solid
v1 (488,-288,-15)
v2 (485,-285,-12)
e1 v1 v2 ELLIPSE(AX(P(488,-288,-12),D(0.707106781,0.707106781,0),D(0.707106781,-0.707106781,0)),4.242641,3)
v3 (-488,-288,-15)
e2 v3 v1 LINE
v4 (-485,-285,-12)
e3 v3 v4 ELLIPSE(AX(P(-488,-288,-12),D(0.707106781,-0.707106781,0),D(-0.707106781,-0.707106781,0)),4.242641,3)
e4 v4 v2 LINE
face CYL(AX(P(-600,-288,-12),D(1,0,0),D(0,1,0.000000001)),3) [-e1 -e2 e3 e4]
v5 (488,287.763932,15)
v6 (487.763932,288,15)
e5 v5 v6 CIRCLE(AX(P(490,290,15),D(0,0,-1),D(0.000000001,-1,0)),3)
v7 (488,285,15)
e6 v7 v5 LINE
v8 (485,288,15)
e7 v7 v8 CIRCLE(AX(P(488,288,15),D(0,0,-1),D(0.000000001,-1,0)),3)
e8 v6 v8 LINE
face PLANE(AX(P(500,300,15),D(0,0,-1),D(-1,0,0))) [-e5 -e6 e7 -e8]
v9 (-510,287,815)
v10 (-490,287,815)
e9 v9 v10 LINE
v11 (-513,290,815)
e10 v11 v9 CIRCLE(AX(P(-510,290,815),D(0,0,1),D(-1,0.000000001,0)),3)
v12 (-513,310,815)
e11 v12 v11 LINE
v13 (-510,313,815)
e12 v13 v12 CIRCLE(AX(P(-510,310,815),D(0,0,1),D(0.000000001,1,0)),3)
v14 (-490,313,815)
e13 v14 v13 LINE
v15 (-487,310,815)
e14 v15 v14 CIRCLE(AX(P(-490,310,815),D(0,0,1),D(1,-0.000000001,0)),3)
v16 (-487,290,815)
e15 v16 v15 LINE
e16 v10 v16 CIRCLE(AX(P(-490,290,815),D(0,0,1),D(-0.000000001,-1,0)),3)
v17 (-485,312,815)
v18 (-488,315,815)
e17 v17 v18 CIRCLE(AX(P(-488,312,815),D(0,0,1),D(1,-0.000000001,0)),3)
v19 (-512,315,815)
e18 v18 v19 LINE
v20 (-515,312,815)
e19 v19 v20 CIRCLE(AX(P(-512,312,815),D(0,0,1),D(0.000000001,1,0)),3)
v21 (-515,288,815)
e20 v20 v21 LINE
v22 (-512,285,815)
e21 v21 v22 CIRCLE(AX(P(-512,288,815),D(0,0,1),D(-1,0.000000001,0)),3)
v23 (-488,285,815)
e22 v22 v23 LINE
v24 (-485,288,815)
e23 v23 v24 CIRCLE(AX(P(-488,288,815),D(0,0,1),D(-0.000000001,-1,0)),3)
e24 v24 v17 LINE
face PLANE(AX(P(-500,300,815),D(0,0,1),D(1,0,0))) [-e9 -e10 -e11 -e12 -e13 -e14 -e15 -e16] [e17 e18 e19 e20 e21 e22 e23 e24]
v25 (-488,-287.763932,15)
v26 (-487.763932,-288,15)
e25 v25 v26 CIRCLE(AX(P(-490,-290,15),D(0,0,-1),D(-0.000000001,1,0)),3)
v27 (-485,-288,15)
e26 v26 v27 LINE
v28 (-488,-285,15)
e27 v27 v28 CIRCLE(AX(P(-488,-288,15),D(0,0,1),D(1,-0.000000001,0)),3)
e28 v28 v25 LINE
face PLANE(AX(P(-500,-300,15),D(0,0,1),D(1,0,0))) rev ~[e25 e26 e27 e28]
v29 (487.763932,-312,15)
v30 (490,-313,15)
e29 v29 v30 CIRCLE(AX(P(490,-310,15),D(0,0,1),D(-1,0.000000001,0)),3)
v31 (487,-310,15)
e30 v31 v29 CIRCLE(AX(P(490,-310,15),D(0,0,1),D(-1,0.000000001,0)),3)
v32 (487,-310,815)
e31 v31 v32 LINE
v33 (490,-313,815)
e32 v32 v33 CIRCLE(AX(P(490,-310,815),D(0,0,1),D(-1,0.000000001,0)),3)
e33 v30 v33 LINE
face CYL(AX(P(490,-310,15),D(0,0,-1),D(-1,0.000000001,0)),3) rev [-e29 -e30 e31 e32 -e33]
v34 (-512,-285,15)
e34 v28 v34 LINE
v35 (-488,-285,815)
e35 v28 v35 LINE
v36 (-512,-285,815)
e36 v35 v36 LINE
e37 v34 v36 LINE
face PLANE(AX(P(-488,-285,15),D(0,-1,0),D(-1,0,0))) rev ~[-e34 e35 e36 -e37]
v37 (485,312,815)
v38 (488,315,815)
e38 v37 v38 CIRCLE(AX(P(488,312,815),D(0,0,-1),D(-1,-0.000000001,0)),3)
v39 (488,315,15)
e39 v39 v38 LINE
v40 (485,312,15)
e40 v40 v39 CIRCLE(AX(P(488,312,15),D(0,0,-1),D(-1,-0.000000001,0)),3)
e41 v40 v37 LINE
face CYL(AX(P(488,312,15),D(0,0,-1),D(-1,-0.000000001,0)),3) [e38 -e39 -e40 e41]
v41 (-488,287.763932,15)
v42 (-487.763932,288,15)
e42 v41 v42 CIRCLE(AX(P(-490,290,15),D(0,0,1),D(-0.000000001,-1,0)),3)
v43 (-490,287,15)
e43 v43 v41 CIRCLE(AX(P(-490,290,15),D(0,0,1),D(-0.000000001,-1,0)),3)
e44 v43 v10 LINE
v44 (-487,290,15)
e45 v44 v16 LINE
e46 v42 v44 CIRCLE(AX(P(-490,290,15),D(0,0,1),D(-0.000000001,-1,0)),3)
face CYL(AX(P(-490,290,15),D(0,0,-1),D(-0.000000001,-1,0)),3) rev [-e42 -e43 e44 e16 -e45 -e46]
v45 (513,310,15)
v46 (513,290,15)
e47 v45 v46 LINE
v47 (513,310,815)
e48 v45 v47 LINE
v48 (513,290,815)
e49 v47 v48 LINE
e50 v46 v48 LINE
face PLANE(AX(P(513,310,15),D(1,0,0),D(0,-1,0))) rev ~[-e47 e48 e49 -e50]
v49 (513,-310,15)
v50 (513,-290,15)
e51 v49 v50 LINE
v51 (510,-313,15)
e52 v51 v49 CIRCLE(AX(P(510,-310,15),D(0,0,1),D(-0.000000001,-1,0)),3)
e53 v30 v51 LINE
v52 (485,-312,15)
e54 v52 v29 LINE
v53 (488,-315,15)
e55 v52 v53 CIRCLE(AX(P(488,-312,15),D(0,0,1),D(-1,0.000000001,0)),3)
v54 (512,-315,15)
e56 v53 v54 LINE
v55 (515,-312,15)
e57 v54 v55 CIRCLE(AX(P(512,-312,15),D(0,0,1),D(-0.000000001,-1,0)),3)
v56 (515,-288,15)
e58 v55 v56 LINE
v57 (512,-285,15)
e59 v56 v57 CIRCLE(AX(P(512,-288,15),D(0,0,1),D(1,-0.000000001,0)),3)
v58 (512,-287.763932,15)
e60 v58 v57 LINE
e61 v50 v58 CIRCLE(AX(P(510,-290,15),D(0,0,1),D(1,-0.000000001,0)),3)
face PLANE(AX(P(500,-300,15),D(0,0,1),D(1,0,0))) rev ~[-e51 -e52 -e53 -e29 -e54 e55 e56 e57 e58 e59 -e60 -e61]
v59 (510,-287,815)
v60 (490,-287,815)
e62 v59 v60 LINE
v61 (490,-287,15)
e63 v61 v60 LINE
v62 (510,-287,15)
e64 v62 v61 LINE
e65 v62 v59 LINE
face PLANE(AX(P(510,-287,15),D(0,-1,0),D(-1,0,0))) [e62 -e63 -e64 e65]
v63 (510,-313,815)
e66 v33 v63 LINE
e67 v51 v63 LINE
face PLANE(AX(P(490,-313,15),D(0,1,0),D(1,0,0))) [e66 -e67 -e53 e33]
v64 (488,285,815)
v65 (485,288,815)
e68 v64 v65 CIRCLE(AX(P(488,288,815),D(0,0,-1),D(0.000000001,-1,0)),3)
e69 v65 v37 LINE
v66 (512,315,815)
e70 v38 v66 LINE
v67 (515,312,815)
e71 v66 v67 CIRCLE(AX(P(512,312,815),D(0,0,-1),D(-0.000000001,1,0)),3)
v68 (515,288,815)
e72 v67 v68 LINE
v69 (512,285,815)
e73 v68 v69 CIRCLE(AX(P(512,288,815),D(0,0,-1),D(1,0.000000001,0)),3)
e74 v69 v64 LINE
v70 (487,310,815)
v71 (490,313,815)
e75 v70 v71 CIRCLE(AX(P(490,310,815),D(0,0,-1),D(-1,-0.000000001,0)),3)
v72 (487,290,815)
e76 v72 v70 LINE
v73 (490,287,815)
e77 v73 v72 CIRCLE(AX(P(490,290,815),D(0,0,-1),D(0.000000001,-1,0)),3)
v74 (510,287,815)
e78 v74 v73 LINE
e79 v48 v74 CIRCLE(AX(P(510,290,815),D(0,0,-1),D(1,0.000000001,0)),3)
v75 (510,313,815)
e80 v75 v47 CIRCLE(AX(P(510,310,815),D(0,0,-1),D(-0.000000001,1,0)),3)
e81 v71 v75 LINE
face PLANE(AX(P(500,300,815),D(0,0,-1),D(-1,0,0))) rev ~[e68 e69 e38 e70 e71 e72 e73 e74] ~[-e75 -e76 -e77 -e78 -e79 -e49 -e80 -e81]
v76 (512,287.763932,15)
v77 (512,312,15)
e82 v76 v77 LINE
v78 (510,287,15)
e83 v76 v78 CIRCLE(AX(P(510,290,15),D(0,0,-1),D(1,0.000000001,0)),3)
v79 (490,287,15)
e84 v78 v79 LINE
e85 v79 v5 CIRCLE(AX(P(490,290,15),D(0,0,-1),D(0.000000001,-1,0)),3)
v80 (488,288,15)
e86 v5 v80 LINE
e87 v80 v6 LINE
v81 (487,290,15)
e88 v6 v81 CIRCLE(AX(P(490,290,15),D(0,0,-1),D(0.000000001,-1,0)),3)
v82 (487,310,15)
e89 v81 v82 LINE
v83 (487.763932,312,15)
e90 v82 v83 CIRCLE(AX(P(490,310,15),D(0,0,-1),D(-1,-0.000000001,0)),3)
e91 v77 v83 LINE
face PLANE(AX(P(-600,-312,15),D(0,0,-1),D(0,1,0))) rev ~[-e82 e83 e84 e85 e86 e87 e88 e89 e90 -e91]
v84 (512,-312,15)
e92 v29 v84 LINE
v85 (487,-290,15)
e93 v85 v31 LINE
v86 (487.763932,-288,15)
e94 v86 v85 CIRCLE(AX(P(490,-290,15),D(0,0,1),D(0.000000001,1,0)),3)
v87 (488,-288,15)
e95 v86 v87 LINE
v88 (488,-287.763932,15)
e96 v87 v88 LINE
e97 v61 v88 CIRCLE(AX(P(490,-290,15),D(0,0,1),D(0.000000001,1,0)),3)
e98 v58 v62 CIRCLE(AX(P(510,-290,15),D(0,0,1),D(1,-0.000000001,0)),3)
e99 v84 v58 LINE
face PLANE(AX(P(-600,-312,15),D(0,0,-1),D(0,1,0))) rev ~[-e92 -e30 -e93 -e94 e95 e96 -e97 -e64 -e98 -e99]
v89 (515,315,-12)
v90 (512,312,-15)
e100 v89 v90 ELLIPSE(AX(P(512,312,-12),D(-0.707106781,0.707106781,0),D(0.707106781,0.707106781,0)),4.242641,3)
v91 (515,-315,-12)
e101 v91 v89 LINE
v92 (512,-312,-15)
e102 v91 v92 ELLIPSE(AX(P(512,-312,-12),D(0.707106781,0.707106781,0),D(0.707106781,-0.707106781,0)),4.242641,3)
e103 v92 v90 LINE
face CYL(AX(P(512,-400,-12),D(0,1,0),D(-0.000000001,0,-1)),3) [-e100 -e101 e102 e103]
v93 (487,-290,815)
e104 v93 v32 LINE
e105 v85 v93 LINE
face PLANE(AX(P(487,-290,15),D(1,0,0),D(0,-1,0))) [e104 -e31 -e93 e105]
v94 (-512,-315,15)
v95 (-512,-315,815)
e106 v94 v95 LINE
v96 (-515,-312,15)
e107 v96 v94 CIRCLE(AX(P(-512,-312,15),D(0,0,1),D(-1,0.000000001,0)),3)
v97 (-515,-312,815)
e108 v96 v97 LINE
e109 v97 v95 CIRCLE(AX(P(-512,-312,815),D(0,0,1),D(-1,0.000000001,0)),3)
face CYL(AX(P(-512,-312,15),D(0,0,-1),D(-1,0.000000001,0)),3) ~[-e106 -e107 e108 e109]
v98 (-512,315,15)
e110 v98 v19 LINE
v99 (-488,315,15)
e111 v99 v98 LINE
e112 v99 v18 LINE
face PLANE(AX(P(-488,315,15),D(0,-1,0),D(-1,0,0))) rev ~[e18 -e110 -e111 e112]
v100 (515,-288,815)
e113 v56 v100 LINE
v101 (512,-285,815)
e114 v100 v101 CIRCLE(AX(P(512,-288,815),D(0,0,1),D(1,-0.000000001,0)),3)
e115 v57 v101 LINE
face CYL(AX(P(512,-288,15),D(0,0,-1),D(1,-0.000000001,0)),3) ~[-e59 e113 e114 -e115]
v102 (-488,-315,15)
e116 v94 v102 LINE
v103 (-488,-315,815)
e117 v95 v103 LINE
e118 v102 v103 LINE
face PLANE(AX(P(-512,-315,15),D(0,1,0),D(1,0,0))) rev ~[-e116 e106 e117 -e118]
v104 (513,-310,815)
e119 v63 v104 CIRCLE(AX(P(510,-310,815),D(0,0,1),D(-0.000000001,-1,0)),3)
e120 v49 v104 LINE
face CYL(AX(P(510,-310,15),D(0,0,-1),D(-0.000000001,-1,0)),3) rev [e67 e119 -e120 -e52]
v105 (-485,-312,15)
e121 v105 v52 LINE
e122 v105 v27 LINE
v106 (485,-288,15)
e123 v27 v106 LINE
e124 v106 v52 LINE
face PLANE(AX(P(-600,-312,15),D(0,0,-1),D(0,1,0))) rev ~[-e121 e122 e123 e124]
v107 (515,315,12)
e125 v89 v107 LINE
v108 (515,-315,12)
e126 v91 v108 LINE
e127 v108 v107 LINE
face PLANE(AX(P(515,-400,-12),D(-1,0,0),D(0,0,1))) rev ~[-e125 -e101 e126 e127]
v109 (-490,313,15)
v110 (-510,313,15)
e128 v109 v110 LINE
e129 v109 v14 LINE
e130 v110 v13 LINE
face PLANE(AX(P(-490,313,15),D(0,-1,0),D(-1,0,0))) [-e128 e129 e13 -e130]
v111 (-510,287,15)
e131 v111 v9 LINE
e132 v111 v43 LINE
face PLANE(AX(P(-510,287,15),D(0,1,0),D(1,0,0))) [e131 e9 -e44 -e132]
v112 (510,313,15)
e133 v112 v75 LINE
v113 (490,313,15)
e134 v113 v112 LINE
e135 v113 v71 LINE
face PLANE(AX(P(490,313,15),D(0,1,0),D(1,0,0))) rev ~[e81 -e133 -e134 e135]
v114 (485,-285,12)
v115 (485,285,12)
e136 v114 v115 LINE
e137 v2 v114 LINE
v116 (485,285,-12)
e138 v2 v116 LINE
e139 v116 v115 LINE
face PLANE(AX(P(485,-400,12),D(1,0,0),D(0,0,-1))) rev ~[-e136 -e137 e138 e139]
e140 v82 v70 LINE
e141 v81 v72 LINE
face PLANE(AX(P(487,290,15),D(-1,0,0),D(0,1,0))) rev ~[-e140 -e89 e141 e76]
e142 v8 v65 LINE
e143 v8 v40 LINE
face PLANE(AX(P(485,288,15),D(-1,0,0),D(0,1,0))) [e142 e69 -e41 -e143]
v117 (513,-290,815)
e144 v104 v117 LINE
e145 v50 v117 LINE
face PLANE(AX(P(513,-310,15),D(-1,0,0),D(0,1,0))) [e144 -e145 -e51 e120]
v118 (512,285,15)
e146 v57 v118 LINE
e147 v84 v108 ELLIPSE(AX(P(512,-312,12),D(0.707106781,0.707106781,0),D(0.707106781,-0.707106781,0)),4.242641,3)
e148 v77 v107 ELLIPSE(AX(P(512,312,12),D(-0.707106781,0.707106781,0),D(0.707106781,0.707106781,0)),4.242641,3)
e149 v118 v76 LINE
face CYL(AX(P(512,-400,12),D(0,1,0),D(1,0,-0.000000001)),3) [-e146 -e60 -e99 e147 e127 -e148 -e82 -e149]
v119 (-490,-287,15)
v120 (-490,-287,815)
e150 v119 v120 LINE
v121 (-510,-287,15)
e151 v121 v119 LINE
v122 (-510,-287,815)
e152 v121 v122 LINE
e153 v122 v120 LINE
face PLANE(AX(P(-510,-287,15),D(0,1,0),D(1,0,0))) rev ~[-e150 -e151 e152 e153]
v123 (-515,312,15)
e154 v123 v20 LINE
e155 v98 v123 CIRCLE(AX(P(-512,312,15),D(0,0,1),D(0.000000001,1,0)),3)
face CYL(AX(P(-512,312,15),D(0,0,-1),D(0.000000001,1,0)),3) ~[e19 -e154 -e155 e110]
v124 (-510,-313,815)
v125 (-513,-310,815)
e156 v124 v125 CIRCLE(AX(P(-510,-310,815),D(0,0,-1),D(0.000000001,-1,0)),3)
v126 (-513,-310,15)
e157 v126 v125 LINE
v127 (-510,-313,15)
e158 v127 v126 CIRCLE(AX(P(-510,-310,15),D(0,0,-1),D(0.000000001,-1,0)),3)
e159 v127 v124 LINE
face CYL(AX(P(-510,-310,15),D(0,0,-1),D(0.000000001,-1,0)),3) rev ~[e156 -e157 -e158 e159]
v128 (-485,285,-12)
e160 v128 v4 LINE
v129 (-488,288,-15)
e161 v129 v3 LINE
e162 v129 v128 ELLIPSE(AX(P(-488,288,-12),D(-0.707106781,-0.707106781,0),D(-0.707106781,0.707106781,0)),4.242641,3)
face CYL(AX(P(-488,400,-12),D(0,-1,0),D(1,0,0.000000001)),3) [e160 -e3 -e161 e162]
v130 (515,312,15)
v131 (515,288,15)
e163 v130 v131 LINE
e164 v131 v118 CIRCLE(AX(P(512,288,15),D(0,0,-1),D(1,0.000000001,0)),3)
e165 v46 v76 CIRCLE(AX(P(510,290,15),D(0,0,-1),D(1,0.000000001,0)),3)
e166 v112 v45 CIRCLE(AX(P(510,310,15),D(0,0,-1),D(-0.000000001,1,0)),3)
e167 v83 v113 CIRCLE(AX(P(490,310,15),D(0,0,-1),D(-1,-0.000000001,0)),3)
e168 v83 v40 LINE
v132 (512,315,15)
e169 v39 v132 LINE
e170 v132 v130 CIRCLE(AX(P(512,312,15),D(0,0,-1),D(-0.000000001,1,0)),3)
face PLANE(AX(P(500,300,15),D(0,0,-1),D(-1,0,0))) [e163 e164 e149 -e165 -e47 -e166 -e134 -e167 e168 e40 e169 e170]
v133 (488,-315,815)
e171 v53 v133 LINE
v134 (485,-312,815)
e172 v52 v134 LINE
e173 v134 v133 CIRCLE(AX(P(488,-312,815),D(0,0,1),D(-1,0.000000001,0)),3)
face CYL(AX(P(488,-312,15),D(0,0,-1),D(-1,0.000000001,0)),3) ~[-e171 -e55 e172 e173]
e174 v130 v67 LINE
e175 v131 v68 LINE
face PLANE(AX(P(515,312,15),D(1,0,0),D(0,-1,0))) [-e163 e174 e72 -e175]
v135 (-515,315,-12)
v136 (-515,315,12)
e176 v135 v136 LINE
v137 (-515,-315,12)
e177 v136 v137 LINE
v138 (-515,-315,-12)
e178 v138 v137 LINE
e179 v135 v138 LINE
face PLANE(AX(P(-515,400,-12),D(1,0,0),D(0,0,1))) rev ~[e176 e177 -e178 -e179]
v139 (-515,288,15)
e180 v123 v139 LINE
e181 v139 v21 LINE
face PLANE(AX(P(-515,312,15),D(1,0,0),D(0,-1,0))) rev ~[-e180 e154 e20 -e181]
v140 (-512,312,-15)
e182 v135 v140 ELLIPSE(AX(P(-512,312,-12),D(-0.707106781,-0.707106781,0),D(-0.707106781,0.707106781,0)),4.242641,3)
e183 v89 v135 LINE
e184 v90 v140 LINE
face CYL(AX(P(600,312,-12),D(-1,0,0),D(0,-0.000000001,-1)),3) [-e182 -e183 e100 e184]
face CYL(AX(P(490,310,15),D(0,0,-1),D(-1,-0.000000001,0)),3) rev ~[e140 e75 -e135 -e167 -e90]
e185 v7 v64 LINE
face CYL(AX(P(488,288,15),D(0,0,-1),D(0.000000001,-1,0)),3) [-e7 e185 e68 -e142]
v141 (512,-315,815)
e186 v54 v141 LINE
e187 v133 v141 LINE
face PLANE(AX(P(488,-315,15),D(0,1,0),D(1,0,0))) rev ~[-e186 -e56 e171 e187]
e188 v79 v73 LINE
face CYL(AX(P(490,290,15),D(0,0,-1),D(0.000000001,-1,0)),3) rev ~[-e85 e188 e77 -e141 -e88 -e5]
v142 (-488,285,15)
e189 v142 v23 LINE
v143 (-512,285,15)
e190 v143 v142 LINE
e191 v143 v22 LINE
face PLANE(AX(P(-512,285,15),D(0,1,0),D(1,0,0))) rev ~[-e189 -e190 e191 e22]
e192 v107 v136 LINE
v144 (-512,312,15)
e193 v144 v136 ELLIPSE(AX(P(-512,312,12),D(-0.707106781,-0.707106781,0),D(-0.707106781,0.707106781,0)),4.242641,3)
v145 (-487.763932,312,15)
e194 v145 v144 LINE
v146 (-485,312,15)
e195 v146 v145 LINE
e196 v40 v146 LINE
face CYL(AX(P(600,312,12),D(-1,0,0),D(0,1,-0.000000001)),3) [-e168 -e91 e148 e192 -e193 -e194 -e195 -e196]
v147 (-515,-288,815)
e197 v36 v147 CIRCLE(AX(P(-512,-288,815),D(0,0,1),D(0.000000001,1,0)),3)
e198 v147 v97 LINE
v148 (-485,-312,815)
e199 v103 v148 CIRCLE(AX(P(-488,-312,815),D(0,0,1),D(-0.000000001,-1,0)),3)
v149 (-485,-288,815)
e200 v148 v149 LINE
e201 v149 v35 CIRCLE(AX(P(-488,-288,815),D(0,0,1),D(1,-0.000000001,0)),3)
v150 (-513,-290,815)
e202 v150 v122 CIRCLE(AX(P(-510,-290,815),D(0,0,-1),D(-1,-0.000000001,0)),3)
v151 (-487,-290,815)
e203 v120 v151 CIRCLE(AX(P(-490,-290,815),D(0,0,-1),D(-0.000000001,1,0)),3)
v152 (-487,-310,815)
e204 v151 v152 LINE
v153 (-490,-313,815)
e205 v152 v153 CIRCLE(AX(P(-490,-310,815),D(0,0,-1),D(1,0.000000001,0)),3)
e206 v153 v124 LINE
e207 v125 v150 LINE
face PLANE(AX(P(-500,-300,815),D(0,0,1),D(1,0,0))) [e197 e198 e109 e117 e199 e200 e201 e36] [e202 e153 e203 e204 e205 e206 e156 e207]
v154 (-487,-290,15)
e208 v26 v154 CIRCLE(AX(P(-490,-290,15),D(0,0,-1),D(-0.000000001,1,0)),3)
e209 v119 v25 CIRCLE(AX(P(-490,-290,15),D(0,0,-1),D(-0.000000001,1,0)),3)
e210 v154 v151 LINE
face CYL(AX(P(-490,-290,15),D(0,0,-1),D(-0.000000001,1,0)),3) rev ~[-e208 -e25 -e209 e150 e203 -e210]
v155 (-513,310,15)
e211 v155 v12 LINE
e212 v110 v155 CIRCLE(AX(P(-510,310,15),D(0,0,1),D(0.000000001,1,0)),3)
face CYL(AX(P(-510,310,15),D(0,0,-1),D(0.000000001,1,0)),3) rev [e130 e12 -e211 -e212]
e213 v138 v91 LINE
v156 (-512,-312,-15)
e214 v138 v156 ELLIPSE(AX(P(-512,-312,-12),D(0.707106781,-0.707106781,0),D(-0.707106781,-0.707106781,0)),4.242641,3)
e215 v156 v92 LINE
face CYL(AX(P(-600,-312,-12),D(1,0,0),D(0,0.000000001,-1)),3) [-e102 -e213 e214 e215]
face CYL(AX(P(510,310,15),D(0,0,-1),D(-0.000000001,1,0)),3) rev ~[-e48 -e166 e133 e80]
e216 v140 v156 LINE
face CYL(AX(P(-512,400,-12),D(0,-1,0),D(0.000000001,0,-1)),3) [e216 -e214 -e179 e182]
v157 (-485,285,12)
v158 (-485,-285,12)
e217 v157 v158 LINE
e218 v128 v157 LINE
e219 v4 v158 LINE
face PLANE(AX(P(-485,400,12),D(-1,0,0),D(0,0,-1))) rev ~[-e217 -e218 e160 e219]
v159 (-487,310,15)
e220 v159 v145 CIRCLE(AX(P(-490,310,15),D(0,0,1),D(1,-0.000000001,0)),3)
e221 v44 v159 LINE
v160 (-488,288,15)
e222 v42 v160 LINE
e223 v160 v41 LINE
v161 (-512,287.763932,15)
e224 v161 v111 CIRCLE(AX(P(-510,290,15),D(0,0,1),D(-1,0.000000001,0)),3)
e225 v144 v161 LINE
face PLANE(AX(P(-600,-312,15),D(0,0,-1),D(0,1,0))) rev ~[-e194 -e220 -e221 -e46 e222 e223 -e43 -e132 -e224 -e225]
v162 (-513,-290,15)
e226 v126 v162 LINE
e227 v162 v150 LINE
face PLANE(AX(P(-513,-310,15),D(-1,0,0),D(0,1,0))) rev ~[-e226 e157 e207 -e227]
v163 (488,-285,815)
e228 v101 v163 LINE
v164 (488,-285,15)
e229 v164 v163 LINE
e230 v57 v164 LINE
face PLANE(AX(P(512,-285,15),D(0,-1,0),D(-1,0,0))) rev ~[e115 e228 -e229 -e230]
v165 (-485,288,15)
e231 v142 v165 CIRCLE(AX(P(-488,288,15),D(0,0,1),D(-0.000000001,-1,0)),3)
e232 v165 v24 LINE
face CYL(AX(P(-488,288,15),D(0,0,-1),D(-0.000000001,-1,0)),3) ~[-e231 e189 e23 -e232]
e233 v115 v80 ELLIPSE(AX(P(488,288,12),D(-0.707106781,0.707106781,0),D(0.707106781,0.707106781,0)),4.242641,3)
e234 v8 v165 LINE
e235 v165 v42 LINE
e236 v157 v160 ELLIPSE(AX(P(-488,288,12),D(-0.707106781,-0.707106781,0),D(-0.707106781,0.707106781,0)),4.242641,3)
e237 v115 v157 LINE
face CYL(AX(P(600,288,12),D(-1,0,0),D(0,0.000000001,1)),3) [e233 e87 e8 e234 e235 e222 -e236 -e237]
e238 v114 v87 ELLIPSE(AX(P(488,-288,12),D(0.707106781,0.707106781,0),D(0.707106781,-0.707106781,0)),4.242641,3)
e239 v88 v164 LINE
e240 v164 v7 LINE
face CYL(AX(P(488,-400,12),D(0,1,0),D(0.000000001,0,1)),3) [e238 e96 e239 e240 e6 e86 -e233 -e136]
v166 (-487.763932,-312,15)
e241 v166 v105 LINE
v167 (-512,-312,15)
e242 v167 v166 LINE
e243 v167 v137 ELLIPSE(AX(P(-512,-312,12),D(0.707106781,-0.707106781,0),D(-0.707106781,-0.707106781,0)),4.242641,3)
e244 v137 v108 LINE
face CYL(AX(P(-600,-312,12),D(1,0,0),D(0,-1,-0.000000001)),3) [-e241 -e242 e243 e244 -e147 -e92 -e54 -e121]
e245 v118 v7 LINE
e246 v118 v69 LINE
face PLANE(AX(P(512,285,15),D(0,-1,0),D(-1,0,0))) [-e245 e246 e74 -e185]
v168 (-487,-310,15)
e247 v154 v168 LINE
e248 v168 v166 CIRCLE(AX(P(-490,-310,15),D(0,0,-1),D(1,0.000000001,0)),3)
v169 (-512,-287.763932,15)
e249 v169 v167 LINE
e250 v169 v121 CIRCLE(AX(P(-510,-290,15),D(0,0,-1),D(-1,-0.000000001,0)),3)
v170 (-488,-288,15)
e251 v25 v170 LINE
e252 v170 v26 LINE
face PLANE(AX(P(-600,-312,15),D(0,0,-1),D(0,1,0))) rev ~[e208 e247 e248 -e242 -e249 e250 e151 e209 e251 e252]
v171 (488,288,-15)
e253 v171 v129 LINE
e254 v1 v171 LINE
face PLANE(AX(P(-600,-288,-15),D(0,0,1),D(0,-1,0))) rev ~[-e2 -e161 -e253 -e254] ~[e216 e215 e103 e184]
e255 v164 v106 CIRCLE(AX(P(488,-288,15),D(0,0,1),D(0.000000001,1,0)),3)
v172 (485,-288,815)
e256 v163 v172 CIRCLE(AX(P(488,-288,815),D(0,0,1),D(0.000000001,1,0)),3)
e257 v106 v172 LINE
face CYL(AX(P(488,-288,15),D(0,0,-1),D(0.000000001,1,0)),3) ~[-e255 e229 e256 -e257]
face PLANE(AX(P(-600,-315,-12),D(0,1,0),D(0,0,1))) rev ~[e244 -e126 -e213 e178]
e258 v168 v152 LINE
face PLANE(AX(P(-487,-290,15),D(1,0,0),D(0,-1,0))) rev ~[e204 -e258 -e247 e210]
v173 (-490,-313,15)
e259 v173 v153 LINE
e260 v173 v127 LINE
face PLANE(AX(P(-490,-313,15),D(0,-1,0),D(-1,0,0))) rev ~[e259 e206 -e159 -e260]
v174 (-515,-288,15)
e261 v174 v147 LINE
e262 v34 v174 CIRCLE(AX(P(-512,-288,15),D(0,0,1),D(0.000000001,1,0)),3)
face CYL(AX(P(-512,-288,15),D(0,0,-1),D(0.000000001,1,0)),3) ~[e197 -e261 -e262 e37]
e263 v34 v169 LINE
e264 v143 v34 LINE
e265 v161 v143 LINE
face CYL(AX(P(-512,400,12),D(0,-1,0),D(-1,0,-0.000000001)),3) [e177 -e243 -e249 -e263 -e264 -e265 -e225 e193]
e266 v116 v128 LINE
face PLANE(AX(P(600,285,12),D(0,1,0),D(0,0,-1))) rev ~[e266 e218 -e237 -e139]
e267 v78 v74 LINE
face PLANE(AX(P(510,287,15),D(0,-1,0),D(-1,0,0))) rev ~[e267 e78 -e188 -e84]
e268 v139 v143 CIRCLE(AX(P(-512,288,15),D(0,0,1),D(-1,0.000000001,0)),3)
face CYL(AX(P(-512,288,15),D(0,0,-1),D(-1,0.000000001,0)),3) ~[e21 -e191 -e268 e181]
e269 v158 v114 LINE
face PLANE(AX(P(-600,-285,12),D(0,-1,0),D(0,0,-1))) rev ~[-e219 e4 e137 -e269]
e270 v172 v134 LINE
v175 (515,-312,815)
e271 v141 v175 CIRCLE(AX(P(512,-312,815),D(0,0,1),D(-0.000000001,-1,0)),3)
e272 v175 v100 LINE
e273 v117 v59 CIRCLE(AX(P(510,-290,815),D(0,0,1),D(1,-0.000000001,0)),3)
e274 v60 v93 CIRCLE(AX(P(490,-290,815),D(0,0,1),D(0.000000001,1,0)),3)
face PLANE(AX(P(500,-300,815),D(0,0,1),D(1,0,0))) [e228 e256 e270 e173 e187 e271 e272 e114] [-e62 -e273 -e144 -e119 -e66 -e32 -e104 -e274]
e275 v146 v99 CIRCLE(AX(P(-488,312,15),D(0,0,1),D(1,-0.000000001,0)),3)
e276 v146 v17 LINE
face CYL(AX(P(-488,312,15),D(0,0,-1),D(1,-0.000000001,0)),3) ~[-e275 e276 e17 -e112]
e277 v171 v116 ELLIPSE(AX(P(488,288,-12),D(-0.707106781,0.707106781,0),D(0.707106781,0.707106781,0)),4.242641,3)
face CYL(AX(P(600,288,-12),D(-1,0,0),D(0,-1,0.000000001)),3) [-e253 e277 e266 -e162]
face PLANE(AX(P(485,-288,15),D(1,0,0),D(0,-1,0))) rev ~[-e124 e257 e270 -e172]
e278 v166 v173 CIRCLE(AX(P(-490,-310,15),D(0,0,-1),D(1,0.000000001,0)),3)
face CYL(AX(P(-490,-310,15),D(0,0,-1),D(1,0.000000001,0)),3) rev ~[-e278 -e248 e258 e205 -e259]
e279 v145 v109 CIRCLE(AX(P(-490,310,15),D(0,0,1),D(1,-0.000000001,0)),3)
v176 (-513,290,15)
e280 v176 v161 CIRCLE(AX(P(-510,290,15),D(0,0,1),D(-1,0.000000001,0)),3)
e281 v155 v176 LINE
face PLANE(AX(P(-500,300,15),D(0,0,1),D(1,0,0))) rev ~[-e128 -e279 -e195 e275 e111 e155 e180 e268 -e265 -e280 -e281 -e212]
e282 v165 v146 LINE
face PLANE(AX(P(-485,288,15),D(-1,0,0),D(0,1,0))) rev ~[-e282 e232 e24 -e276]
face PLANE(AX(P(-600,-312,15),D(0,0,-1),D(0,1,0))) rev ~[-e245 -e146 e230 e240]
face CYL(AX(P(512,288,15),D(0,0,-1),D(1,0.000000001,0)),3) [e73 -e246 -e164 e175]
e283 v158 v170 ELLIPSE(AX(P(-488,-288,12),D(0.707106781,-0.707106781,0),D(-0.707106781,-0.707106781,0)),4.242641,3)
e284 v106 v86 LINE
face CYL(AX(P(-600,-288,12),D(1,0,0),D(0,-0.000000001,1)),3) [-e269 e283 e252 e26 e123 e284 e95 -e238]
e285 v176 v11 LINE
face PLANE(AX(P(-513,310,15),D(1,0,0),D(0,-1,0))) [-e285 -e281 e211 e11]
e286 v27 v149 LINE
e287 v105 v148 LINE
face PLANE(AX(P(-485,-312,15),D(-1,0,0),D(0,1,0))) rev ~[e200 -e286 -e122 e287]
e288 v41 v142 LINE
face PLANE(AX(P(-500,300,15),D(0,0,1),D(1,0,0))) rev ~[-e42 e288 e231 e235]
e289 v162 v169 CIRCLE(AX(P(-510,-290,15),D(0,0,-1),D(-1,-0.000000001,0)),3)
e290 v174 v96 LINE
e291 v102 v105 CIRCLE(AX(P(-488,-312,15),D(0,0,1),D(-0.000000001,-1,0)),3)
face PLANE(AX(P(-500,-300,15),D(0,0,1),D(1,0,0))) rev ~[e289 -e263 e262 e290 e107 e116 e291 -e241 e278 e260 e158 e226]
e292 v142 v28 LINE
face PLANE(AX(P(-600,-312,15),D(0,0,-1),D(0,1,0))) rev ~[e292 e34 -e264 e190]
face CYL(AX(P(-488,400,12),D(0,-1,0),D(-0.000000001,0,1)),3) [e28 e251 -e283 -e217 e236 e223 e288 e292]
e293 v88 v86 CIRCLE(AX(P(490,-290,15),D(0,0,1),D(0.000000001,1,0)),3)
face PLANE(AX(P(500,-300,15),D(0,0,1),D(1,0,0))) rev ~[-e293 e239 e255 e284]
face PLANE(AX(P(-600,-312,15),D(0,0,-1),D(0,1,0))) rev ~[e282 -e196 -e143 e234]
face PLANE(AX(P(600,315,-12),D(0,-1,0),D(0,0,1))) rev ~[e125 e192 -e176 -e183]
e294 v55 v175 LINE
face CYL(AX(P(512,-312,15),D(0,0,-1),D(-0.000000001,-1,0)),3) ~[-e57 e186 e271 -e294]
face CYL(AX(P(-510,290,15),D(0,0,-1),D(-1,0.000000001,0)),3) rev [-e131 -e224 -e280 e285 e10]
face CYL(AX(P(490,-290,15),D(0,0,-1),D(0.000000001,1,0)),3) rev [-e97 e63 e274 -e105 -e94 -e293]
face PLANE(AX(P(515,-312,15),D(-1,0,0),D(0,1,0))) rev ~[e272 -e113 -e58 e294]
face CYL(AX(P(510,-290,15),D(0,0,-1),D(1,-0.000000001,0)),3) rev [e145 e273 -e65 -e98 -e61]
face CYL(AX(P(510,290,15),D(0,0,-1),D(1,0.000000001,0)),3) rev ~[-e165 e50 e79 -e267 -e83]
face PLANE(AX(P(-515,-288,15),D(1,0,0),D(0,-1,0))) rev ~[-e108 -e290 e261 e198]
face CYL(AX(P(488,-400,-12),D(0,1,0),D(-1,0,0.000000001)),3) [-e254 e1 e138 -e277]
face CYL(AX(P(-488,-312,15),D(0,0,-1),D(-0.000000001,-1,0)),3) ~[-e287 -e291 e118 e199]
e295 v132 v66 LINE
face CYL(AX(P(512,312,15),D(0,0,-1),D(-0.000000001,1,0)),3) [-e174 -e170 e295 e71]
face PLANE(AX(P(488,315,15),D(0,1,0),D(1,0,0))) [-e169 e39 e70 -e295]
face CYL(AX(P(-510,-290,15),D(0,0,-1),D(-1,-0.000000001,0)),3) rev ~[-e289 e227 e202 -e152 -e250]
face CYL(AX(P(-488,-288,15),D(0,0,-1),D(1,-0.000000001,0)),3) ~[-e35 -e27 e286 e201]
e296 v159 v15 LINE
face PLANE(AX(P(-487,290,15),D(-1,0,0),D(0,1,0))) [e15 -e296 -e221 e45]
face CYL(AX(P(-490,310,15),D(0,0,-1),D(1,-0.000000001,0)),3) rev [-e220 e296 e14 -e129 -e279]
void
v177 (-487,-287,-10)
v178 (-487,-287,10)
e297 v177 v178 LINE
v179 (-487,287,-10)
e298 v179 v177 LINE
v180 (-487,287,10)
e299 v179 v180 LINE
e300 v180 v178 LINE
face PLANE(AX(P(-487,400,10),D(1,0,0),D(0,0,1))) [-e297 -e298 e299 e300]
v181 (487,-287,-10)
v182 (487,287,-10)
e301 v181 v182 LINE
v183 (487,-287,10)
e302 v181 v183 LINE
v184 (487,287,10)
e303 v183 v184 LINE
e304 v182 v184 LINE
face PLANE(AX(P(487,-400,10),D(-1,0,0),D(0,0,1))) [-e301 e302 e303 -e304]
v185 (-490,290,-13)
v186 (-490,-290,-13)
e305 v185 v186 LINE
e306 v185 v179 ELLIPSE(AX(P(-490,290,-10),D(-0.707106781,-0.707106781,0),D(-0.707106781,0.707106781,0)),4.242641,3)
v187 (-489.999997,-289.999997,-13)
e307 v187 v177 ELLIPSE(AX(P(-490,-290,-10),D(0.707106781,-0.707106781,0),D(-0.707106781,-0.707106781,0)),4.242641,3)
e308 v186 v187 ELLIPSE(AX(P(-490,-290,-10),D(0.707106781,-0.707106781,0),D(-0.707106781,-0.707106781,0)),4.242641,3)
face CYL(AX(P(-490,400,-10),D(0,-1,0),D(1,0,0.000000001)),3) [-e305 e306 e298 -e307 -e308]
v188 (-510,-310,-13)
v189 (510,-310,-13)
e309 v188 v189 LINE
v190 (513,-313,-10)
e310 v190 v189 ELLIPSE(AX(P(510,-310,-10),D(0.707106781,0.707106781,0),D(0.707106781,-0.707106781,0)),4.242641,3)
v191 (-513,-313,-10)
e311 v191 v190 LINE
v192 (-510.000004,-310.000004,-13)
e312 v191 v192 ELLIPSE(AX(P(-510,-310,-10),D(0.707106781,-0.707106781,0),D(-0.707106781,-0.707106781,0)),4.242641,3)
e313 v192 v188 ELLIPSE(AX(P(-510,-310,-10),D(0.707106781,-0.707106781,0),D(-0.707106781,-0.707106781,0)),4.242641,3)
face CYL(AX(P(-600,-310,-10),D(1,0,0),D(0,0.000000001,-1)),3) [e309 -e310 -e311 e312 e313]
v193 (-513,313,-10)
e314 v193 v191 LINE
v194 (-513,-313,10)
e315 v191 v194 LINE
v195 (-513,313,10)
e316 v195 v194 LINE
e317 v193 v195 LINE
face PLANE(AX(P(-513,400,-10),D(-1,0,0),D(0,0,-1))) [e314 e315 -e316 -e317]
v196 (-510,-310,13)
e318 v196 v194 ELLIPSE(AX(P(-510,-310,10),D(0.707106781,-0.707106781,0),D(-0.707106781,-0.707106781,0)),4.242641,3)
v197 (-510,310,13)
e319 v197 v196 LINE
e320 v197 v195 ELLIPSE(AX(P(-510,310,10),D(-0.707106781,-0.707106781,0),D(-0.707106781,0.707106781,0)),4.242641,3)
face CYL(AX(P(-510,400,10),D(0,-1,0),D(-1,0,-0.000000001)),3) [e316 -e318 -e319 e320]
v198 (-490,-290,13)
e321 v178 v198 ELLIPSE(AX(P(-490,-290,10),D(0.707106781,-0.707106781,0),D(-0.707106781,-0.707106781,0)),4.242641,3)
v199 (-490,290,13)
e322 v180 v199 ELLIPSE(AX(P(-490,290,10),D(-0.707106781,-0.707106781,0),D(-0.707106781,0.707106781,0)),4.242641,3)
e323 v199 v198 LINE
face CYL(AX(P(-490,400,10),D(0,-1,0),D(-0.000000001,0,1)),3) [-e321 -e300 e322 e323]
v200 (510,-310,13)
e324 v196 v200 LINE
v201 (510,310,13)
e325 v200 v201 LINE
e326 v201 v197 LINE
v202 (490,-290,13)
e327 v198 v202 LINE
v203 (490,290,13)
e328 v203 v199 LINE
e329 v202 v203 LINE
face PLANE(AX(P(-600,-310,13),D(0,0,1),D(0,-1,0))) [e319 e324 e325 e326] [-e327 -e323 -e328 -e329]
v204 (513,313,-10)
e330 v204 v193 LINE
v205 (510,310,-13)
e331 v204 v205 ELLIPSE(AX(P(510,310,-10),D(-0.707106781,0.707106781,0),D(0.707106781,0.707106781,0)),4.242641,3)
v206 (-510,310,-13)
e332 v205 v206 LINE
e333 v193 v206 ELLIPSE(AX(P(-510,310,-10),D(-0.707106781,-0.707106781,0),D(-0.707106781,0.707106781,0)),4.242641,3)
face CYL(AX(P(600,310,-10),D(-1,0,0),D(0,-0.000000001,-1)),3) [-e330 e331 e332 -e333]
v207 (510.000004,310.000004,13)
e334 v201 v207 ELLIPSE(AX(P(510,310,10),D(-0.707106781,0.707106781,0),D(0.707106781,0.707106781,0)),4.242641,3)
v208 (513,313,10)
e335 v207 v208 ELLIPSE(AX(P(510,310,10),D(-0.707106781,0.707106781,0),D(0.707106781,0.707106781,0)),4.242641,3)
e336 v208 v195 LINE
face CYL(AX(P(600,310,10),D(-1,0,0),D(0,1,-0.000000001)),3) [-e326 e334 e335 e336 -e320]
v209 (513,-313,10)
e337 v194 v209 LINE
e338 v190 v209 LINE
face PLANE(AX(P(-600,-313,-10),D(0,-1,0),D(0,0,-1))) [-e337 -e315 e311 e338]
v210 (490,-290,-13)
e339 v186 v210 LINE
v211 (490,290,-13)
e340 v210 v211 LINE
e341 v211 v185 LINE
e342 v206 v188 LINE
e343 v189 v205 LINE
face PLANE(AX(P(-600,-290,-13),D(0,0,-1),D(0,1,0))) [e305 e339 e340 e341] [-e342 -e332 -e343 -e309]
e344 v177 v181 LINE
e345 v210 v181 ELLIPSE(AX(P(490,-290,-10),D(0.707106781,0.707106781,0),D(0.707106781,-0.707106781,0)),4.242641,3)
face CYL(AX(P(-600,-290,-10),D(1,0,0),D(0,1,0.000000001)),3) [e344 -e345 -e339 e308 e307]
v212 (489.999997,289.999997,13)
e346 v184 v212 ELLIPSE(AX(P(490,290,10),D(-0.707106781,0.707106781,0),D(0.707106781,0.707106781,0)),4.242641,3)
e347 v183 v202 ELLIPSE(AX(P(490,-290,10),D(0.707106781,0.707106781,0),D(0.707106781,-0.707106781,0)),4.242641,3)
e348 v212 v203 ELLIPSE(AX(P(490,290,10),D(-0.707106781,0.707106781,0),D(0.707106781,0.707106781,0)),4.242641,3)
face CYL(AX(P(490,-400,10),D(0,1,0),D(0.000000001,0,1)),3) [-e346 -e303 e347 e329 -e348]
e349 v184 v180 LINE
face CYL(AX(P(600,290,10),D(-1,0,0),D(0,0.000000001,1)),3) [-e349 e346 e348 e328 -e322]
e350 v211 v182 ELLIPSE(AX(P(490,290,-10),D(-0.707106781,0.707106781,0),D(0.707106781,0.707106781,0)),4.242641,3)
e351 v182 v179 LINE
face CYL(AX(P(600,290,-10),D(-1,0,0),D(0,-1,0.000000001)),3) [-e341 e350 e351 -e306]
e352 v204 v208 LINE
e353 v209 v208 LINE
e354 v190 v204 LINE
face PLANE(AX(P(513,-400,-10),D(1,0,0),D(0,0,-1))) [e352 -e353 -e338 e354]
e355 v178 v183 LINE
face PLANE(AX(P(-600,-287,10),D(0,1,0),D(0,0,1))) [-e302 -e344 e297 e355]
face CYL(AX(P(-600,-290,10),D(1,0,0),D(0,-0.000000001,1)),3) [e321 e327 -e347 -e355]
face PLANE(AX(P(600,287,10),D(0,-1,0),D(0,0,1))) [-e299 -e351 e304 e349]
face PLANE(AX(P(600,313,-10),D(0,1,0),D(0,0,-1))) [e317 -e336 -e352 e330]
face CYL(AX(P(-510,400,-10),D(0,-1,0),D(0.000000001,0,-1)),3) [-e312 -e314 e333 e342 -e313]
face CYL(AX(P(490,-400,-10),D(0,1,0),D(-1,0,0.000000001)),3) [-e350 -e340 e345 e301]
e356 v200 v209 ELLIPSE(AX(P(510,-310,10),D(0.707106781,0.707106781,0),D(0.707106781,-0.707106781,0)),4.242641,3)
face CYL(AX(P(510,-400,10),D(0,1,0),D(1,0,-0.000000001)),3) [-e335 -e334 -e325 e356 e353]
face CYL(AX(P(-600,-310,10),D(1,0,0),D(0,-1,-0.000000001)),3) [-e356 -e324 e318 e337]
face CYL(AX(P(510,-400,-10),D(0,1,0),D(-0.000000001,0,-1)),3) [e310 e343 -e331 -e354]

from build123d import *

# Parameters (mm, degrees)
BOSS_EXTRU_1_DEPTH = 800


with BuildPart() as part:
    # Balayage1: sweep along a path in Esquisse1
    with BuildLine(Plane.XY) as balayage1_path:
        Line((-600, -400), (600, -400))
        Line((600, -400), (600, 400))
        Line((600, 400), (-600, 400))
        Line((-600, 400), (-600, -400))
    # Esquisse2 → Balayage1 (sweep)
    with BuildSketch(Plane(origin=(0, 0, 0), x_dir=(1, 0, 0), z_dir=(0, 1, 0))):
        with BuildLine():
            Line((-512, -15), (-488, -15))
            ThreePointArc((-488, -15), (-485.878679656, -14.121320344), (-485, -12))
            Line((-485, -12), (-485, 12))
            ThreePointArc((-485, 12), (-485.878679656, 14.121320344), (-488, 15))
            Line((-488, 15), (-512, 15))
            ThreePointArc((-512, 15), (-514.121320344, 14.121320344), (-515, 12))
            Line((-515, 12), (-515, -12))
            ThreePointArc((-515, -12), (-514.121320344, -14.121320344), (-512, -15))
        make_face()
        with BuildLine():
            Line((-510, -13), (-490, -13))
            ThreePointArc((-490, -13), (-487.878679656, -12.121320344), (-487, -10))
            Line((-487, -10), (-487, 10))
            ThreePointArc((-487, 10), (-487.878679656, 12.121320344), (-490, 13))
            Line((-490, 13), (-510, 13))
            ThreePointArc((-510, 13), (-512.121320344, 12.121320344), (-513, 10))
            Line((-513, 10), (-513, -10))
            ThreePointArc((-513, -10), (-512.121320344, -12.121320344), (-510, -13))
        make_face(mode=Mode.SUBTRACT)
    sweep(path=balayage1_path.line, transition=Transition.RIGHT)

    # Esquisse3 → Boss.-Extru.1 (add)
    # profile 1 of 4: a face of its own
    with BuildSketch(Plane.XY.offset(15)):
        with BuildLine():
            Line((-512, 285), (-488, 285))
            ThreePointArc((-488, 285), (-485.878679656, 285.878679656), (-485, 288))
            Line((-485, 288), (-485, 312))
            ThreePointArc((-485, 312), (-485.878679656, 314.121320344), (-488, 315))
            Line((-488, 315), (-512, 315))
            ThreePointArc((-512, 315), (-514.121320344, 314.121320344), (-515, 312))
            Line((-515, 312), (-515, 288))
            ThreePointArc((-515, 288), (-514.121320344, 285.878679656), (-512, 285))
        make_face()
        with BuildLine():
            Line((-510, 287), (-490, 287))
            ThreePointArc((-490, 287), (-487.878679656, 287.878679656), (-487, 290))
            Line((-487, 290), (-487, 310))
            ThreePointArc((-487, 310), (-487.878679656, 312.121320344), (-490, 313))
            Line((-490, 313), (-510, 313))
            ThreePointArc((-510, 313), (-512.121320344, 312.121320344), (-513, 310))
            Line((-513, 310), (-513, 290))
            ThreePointArc((-513, 290), (-512.121320344, 287.878679656), (-510, 287))
        make_face(mode=Mode.SUBTRACT)
    # profile 2 of 4: a face of its own
    with BuildSketch(Plane.XY.offset(15)):
        with BuildLine():
            Line((485, 288), (485, 312))
            ThreePointArc((485, 312), (485.878679656, 314.121320344), (488, 315))
            Line((488, 315), (512, 315))
            ThreePointArc((512, 315), (514.121320344, 314.121320344), (515, 312))
            Line((515, 312), (515, 288))
            ThreePointArc((515, 288), (514.121320344, 285.878679656), (512, 285))
            Line((512, 285), (488, 285))
            ThreePointArc((488, 285), (485.878679656, 285.878679656), (485, 288))
        make_face()
        with BuildLine():
            Line((487, 290), (487, 310))
            ThreePointArc((487, 310), (487.878679656, 312.121320344), (490, 313))
            Line((490, 313), (510, 313))
            ThreePointArc((510, 313), (512.121320344, 312.121320344), (513, 310))
            Line((513, 310), (513, 290))
            ThreePointArc((513, 290), (512.121320344, 287.878679656), (510, 287))
            Line((510, 287), (490, 287))
            ThreePointArc((490, 287), (487.878679656, 287.878679656), (487, 290))
        make_face(mode=Mode.SUBTRACT)
    # profile 3 of 4: a face of its own
    with BuildSketch(Plane.XY.offset(15)):
        with BuildLine():
            Line((-512, -315), (-488, -315))
            ThreePointArc((-488, -315), (-485.878679656, -314.121320344), (-485, -312))
            Line((-485, -312), (-485, -288))
            ThreePointArc((-485, -288), (-485.878679656, -285.878679656), (-488, -285))
            Line((-488, -285), (-512, -285))
            ThreePointArc((-512, -285), (-514.121320344, -285.878679656), (-515, -288))
            Line((-515, -288), (-515, -312))
            ThreePointArc((-515, -312), (-514.121320344, -314.121320344), (-512, -315))
        make_face()
        with BuildLine():
            Line((-510, -287), (-490, -287))
            ThreePointArc((-490, -287), (-487.878679656, -287.878679656), (-487, -290))
            Line((-487, -290), (-487, -310))
            ThreePointArc((-487, -310), (-487.878679656, -312.121320344), (-490, -313))
            Line((-490, -313), (-510, -313))
            ThreePointArc((-510, -313), (-512.121320344, -312.121320344), (-513, -310))
            Line((-513, -310), (-513, -290))
            ThreePointArc((-513, -290), (-512.121320344, -287.878679656), (-510, -287))
        make_face(mode=Mode.SUBTRACT)
    # profile 4 of 4: a face of its own
    with BuildSketch(Plane.XY.offset(15)):
        with BuildLine():
            Line((512, -285), (488, -285))
            ThreePointArc((488, -285), (485.878679656, -285.878679656), (485, -288))
            Line((485, -288), (485, -312))
            ThreePointArc((485, -312), (485.878679656, -314.121320344), (488, -315))
            Line((488, -315), (512, -315))
            ThreePointArc((512, -315), (514.121320344, -314.121320344), (515, -312))
            Line((515, -312), (515, -288))
            ThreePointArc((515, -288), (514.121320344, -285.878679656), (512, -285))
        make_face()
        with BuildLine():
            Line((510, -287), (490, -287))
            ThreePointArc((490, -287), (487.878679656, -287.878679656), (487, -290))
            Line((487, -290), (487, -310))
            ThreePointArc((487, -310), (487.878679656, -312.121320344), (490, -313))
            Line((490, -313), (510, -313))
            ThreePointArc((510, -313), (512.121320344, -312.121320344), (513, -310))
            Line((513, -310), (513, -290))
            ThreePointArc((513, -290), (512.121320344, -287.878679656), (510, -287))
        make_face(mode=Mode.SUBTRACT)
    extrude(amount=BOSS_EXTRU_1_DEPTH)


solid = part.part
